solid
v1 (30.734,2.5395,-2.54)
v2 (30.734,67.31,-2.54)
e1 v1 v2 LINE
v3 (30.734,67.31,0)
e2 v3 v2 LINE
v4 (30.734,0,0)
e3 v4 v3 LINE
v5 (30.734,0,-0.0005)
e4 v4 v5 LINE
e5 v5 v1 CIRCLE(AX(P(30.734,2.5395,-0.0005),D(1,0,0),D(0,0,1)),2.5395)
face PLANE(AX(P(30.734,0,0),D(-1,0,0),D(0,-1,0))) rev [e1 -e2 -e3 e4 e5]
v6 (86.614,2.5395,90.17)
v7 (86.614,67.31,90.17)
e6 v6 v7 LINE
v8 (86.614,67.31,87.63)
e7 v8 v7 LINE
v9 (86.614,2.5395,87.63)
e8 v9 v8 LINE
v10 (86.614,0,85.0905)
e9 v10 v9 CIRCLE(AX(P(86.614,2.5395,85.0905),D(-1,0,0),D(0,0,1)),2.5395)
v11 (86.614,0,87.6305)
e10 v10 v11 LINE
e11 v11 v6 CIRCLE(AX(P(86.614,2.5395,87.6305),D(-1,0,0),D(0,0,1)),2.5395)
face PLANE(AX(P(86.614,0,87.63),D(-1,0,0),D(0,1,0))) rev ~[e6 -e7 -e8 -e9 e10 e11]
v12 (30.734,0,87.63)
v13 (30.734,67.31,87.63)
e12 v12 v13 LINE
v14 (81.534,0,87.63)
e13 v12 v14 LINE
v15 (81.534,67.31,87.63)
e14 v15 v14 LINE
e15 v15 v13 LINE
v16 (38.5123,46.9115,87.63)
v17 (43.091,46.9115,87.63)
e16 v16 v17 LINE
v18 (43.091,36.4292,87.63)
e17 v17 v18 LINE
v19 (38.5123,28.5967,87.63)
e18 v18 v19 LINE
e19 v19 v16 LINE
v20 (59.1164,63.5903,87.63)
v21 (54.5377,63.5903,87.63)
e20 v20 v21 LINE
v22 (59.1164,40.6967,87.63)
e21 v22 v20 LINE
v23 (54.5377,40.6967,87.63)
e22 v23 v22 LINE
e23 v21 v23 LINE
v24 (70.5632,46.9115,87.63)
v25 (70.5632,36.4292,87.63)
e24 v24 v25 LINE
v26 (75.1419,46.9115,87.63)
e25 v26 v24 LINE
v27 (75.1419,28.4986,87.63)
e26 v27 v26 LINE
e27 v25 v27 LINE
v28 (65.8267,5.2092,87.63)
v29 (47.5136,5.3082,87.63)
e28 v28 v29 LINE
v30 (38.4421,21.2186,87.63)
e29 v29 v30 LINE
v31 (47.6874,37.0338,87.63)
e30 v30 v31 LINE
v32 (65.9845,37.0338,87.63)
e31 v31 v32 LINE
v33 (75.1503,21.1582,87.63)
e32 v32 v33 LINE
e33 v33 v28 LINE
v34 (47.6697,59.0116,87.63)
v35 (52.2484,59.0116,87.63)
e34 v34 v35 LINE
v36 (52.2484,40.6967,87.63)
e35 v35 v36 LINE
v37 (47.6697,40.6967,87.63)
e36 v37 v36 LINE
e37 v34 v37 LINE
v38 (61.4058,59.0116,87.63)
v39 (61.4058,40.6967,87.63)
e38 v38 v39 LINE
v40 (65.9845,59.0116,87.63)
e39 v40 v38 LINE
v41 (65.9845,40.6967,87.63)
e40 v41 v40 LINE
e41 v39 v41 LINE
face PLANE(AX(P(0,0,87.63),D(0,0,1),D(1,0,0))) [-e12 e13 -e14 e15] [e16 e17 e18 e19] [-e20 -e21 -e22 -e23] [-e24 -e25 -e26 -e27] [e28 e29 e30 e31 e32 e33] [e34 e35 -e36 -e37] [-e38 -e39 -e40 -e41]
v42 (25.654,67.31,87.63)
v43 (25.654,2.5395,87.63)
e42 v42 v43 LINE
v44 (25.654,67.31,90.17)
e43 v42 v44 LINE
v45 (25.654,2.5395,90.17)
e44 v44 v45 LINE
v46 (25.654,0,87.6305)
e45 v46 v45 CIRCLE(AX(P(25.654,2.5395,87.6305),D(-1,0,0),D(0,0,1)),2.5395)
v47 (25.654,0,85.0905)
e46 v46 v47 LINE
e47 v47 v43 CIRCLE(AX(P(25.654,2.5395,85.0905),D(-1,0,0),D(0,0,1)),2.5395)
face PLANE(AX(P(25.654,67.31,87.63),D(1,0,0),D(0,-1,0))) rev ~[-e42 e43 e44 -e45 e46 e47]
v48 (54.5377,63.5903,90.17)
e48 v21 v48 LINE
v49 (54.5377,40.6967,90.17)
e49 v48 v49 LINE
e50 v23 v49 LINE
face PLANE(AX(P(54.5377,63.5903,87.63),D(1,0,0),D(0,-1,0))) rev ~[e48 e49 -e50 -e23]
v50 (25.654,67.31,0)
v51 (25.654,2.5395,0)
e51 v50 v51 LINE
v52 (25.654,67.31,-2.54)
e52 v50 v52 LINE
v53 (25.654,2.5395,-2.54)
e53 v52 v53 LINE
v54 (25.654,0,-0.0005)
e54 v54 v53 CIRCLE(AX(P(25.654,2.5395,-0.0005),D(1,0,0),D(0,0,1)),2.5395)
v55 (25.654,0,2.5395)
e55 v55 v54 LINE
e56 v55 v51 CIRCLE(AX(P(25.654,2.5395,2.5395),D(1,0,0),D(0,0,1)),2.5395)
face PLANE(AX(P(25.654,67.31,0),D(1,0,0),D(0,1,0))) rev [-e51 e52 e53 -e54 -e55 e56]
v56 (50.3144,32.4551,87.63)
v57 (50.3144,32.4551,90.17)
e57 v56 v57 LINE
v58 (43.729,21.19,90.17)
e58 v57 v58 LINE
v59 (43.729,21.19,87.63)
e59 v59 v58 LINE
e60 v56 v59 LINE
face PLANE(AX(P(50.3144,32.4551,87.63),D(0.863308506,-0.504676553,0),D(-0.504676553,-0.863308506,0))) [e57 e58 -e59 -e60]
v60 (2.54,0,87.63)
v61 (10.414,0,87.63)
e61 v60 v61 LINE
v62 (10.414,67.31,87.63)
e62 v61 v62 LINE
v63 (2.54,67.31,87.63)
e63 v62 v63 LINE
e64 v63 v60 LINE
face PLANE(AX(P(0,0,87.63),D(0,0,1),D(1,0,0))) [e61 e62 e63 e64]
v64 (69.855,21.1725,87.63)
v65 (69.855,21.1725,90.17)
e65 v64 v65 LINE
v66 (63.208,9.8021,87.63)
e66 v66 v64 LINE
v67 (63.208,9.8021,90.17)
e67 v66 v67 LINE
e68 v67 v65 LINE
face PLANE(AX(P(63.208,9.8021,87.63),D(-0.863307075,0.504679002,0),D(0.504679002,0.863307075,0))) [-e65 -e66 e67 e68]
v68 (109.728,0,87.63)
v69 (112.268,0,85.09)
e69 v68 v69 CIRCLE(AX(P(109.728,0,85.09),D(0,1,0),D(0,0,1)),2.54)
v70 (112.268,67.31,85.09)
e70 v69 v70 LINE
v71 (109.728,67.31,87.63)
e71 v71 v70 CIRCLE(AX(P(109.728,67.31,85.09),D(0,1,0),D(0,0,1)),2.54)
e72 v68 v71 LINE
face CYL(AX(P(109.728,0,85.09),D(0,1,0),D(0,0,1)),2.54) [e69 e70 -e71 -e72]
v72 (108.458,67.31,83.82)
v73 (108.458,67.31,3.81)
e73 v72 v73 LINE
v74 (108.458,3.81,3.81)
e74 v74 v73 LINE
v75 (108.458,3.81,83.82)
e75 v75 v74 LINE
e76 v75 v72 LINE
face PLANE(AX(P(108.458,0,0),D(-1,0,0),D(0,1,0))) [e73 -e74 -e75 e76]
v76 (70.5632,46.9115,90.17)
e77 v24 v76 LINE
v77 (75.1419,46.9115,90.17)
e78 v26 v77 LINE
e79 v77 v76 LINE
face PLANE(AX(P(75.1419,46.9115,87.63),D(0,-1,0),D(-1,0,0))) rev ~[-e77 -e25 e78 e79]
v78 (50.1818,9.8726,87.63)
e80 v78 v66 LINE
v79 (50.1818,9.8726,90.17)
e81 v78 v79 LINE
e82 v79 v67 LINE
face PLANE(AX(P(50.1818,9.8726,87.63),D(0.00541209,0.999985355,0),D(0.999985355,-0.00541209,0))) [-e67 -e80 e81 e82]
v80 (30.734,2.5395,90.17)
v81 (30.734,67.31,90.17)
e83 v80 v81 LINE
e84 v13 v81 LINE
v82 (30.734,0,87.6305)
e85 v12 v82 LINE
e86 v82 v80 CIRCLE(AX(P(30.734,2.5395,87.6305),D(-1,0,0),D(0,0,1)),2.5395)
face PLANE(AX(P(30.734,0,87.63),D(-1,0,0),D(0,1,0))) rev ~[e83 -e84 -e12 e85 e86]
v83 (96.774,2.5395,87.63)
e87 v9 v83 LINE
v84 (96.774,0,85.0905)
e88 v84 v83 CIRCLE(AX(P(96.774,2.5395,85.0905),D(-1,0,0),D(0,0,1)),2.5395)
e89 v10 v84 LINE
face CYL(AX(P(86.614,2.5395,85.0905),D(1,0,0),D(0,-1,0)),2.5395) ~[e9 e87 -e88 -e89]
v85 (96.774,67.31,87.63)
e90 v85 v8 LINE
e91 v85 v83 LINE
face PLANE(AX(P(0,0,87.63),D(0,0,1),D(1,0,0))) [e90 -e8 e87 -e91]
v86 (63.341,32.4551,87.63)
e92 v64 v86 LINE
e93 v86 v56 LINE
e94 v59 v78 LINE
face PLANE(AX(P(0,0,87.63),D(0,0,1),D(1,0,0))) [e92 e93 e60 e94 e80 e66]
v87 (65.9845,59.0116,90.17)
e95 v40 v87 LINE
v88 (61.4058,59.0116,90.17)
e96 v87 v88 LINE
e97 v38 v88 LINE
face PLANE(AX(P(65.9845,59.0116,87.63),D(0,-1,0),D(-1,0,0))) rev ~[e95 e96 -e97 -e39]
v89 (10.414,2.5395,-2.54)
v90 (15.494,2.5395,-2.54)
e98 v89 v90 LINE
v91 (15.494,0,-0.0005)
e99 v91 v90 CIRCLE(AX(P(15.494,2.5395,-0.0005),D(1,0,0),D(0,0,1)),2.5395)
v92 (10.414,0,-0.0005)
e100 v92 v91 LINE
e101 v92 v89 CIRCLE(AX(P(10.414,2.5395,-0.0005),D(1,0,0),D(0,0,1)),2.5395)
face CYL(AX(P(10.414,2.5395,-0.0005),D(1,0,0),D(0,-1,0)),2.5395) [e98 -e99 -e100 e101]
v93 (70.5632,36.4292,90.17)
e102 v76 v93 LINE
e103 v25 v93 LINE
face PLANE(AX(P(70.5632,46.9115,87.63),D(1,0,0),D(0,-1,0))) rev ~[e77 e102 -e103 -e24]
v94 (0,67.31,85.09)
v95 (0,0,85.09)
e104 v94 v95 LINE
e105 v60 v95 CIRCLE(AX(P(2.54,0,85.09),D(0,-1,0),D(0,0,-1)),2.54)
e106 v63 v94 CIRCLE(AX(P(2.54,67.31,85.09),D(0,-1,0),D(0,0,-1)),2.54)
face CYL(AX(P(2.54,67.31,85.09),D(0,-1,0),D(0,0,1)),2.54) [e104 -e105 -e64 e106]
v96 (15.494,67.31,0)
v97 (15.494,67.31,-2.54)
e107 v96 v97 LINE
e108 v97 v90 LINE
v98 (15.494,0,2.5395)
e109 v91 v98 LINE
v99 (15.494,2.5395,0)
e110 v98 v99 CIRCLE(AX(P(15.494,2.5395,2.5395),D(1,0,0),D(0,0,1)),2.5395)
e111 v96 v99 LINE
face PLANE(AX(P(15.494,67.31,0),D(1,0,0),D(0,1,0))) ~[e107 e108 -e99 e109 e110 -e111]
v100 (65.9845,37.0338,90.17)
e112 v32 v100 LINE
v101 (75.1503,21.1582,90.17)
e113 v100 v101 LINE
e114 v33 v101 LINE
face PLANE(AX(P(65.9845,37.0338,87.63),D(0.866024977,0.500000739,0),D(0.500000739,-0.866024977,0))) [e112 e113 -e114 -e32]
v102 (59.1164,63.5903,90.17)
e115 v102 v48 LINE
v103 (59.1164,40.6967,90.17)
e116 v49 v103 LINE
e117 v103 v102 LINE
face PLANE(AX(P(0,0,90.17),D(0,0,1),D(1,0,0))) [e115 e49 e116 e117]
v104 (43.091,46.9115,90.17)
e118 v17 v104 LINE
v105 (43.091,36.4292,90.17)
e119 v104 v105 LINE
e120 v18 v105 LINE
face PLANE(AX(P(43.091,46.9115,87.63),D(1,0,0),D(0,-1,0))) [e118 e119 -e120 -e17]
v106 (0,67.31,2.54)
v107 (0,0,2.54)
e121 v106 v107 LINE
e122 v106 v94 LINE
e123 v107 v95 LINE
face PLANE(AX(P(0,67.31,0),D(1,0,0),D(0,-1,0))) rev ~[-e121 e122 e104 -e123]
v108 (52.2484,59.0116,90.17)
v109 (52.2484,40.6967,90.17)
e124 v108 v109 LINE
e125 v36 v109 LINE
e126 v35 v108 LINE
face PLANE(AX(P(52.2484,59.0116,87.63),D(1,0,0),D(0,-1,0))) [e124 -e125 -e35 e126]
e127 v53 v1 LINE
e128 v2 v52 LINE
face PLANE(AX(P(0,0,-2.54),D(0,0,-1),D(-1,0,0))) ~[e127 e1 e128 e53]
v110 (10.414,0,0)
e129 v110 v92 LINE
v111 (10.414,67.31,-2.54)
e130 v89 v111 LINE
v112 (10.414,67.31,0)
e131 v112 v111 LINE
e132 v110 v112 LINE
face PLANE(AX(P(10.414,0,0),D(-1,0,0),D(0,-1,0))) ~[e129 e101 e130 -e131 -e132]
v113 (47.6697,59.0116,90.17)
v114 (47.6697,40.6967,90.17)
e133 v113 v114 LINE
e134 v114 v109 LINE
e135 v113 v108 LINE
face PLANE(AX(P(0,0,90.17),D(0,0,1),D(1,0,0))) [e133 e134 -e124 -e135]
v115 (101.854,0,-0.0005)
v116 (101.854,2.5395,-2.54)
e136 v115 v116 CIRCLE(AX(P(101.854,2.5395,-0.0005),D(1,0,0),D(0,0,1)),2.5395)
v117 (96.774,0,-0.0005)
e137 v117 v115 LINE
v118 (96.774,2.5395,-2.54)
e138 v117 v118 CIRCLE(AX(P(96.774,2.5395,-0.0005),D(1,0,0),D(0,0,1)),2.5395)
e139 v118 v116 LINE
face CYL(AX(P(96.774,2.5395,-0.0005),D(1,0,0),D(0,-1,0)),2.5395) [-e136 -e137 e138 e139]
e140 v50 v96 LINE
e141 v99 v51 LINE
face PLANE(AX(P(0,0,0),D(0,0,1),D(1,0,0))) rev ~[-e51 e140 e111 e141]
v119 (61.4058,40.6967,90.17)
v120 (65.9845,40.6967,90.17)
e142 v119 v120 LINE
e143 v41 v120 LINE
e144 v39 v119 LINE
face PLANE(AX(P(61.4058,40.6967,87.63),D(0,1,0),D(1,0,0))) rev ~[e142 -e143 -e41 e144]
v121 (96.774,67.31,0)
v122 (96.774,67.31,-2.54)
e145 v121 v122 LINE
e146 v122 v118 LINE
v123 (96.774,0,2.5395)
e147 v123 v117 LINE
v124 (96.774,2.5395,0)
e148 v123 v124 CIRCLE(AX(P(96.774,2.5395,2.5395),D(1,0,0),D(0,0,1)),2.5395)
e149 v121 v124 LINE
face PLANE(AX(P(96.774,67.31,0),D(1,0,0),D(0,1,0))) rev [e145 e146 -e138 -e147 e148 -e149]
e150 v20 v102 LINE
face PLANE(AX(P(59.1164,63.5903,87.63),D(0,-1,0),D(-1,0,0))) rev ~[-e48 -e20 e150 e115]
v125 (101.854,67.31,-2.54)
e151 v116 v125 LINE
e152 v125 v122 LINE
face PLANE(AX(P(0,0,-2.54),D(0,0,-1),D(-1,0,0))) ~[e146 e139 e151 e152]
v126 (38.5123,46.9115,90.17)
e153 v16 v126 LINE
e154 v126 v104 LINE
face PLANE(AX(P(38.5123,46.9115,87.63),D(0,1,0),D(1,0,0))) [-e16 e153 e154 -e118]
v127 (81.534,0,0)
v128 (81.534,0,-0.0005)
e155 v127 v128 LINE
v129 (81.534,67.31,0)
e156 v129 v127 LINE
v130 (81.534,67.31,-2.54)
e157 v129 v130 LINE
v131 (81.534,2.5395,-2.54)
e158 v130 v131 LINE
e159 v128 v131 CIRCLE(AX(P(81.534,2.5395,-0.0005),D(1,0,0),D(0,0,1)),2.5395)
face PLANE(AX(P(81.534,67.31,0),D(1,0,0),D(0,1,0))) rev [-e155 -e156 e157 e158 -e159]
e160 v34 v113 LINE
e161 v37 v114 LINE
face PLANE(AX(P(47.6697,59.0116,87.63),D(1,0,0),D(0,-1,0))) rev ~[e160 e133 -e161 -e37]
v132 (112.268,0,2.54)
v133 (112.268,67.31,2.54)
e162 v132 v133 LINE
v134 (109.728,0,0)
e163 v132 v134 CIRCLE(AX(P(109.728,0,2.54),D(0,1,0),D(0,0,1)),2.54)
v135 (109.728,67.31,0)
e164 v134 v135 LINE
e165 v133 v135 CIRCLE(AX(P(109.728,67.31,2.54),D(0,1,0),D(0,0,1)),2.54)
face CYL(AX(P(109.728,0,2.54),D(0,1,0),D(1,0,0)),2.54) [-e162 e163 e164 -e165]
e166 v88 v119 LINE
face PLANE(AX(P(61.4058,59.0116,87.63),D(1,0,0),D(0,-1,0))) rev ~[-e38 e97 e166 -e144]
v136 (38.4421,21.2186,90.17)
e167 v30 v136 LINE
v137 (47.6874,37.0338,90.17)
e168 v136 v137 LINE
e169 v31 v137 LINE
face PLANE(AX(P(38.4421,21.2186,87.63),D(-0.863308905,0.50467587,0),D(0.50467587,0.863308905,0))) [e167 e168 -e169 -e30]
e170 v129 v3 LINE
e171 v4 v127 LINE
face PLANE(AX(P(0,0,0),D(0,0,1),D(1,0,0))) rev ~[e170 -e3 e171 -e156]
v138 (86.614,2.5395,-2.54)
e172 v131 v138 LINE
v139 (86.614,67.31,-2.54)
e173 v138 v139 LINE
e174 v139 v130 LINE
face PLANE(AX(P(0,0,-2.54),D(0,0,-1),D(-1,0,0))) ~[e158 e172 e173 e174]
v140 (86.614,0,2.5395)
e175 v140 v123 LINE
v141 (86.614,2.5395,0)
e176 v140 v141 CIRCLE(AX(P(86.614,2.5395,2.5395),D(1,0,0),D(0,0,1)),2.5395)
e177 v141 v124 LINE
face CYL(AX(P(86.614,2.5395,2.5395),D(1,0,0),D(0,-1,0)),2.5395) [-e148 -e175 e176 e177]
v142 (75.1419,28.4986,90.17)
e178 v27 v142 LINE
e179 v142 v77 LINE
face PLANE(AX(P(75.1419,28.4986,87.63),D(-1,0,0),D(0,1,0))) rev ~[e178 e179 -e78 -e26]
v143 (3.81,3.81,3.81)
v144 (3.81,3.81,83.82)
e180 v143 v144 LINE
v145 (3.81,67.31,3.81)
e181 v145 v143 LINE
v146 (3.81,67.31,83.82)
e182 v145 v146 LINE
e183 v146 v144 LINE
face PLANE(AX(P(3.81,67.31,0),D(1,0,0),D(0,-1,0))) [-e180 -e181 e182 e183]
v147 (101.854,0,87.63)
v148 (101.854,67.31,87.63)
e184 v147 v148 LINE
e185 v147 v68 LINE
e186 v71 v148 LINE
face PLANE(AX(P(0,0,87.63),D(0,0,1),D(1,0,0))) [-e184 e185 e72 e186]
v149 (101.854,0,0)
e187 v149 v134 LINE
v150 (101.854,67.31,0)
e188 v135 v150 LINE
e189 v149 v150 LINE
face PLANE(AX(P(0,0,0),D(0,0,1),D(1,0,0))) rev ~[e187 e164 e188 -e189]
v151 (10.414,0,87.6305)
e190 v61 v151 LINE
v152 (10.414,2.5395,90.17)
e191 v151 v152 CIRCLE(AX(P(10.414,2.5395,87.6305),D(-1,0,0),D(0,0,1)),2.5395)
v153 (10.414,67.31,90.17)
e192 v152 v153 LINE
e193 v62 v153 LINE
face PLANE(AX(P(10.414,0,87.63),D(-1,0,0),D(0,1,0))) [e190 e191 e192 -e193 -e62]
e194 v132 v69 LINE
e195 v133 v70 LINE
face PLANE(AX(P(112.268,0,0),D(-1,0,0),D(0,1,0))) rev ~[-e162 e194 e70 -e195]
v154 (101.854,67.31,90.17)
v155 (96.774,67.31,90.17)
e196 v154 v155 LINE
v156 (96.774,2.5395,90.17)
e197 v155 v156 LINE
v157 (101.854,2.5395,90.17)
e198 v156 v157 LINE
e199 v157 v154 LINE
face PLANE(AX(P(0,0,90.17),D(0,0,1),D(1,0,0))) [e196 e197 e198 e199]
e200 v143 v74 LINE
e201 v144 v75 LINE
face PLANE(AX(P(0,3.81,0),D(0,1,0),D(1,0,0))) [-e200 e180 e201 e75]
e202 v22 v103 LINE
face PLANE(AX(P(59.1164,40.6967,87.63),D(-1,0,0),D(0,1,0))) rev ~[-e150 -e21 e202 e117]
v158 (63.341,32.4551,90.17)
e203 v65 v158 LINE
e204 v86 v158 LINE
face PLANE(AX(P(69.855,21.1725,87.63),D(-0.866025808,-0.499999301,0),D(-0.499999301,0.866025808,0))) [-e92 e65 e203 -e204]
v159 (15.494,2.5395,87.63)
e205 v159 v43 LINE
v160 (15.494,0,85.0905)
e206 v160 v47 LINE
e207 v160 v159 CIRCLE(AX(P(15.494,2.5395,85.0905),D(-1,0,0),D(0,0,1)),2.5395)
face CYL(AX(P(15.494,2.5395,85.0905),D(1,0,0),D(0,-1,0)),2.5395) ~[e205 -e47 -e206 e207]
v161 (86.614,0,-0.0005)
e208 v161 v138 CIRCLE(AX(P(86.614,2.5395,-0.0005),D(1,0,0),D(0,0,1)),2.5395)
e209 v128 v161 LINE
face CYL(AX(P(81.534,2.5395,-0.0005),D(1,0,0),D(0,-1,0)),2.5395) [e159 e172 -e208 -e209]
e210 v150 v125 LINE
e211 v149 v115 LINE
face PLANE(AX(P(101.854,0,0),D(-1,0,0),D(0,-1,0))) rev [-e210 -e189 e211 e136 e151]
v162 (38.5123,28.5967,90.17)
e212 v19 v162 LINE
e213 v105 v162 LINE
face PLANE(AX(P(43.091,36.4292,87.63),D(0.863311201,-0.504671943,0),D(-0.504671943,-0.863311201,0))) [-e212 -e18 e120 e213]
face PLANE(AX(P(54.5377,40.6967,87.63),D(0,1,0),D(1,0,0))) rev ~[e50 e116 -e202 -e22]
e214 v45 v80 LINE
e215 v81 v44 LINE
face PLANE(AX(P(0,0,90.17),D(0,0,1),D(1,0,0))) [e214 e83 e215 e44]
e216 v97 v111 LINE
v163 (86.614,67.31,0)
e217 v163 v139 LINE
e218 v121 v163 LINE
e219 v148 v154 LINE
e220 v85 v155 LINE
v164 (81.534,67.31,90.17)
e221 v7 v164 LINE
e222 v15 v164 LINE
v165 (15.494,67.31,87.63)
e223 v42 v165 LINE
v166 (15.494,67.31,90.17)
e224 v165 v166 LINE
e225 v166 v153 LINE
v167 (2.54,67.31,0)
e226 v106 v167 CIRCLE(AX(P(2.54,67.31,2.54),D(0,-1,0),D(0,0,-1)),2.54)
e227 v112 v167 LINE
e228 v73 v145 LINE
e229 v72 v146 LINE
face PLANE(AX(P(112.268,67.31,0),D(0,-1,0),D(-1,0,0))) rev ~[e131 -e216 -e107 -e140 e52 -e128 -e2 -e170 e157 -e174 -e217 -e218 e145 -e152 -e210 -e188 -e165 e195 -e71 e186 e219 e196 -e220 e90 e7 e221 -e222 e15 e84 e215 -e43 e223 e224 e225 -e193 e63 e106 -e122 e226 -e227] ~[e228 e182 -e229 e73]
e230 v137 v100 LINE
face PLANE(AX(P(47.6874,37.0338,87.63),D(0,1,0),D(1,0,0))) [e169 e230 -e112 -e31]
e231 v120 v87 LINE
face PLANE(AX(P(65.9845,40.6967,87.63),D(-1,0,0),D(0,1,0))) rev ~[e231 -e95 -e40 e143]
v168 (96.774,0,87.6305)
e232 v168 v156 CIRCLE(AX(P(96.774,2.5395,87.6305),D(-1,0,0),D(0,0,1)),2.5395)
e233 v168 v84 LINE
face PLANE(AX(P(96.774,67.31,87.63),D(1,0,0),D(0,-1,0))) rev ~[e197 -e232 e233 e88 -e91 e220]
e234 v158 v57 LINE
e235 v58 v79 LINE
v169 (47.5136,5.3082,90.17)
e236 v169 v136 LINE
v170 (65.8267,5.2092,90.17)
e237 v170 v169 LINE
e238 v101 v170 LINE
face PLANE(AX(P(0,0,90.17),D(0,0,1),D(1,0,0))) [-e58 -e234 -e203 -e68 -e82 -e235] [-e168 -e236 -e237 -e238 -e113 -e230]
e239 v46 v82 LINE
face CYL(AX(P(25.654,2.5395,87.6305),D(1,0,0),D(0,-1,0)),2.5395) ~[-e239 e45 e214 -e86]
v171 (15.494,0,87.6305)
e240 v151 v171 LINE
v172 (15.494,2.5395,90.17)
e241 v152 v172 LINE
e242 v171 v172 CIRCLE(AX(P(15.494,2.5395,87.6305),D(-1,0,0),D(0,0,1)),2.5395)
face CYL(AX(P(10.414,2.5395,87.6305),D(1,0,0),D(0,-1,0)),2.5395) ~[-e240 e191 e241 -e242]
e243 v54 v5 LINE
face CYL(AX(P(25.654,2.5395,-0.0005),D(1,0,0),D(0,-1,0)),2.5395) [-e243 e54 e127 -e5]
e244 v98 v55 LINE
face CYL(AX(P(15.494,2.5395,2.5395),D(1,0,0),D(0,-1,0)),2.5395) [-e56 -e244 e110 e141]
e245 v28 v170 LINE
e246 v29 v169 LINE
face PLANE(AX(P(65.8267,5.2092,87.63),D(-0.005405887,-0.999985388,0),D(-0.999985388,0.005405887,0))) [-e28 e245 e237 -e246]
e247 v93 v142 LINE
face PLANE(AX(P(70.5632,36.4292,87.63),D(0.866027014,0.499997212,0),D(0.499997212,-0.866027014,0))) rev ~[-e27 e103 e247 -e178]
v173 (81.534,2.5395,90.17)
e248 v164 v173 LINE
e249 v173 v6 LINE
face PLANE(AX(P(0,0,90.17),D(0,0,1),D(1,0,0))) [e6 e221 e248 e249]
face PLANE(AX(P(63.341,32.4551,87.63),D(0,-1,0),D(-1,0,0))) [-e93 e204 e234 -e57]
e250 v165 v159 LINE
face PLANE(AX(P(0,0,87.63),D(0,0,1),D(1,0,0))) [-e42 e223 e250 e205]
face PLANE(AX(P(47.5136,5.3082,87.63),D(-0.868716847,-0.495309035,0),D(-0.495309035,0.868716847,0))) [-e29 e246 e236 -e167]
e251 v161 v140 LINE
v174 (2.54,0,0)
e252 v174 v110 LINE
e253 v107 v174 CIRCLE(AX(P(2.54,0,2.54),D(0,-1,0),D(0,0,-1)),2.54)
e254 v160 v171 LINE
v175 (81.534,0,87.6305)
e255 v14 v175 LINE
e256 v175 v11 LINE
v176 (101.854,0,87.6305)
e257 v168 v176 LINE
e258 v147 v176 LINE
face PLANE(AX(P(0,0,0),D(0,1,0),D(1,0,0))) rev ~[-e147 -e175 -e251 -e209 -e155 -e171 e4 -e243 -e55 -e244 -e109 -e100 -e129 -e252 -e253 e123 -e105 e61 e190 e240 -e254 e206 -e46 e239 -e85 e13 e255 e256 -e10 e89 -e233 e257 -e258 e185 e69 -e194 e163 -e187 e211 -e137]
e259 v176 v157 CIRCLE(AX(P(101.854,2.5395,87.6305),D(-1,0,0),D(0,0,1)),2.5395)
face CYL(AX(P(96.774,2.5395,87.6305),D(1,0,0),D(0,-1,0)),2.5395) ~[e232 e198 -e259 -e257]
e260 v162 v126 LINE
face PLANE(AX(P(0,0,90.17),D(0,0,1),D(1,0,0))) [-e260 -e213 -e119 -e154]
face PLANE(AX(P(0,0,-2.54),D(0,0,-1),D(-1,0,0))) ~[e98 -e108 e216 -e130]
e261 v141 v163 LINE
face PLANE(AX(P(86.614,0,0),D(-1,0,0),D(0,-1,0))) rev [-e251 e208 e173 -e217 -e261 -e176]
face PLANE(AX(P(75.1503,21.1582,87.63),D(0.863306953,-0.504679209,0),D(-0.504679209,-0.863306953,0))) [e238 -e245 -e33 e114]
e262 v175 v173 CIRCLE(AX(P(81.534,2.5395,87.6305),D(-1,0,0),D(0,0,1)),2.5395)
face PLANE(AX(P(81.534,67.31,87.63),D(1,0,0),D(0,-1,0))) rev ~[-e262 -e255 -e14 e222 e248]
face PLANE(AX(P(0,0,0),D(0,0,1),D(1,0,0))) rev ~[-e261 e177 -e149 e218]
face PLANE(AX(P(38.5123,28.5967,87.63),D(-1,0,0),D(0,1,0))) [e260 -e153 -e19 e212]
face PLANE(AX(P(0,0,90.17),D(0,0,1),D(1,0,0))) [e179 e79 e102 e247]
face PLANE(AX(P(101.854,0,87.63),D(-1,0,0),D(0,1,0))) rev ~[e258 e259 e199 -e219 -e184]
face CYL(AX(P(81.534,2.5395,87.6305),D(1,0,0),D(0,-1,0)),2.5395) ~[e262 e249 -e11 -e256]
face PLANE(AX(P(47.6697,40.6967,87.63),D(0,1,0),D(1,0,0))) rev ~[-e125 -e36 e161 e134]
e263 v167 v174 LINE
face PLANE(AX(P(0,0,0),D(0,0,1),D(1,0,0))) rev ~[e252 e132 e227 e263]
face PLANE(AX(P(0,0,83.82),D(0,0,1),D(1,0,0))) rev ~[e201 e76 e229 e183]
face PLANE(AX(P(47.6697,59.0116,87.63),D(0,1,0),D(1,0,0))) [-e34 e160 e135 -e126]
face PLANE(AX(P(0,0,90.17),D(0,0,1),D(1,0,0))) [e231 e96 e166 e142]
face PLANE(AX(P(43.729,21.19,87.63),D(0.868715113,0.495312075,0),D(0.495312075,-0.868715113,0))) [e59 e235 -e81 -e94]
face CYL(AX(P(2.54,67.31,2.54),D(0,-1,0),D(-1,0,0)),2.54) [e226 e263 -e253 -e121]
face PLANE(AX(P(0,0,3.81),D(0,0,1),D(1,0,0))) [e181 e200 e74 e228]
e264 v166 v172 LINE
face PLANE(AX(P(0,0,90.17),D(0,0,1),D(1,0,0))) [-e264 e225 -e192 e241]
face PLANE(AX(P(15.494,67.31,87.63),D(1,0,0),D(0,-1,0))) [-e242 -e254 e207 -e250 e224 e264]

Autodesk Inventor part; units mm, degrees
ref_plane "YZ Plane" through (0, 0, 0) normal (1, 0, 0) x (0, 1, 0)
ref_plane "XZ Plane" through (0, 0, 0) normal (0, 1, 0) x (-1, 0, 0)
sketch "Sketch1" plane through (0, 0, 0) normal (0, 0, 1) x (1, 0, 0)
  line L0 (0, 0) -> (112.268, 0)
  line L1 (112.268, 0) -> (112.268, 67.31)
  line L2 (112.268, 67.31) -> (0, 67.31)
  line L3 (0, 67.31) -> (0, 0)
  dimension "d0" = 112.268
  dimension "d1" = 67.31
extrude "Extrusion1" add sketch "Sketch1" along normal blind 87.63
shell "Shell1" thickness 3.81 removed faces 1 at (74.8453, 67.31, 29.21)
sketch "Sketch2" plane through (0, 0, 87.63) normal (0, 0, 1) x (1, 0, 0)
  line L0 (112.268, 67.31) -> (0, 67.31) projected
  line L1 (0, 0) -> (112.268, 0) projected
  line L2 (10.414, 67.31) -> (15.494, 67.31)
  line L3 (15.494, 67.31) -> (15.494, 0)
  line L4 (15.494, 0) -> (10.414, 0)
  line L5 (10.414, 0) -> (10.414, 67.31)
  line L6 (25.654, 0) -> (30.734, 0)
  line L7 (30.734, 0) -> (30.734, 67.31)
  line L8 (30.734, 67.31) -> (25.654, 67.31)
  line L9 (25.654, 67.31) -> (25.654, 0)
  line L10 (86.614, 67.31) -> (81.534, 67.31)
  line L11 (81.534, 67.31) -> (81.534, 0)
  line L12 (81.534, 0) -> (86.614, 0)
  line L13 (86.614, 0) -> (86.614, 67.31)
  line L14 (96.774, 0) -> (101.854, 0)
  line L15 (101.854, 0) -> (101.854, 67.31)
  line L16 (101.854, 67.31) -> (96.774, 67.31)
  line L17 (96.774, 67.31) -> (96.774, 0)
  point P0 (56.134, 0)
  dimension "d5" = 5.08
  dimension "d6" = 5.08
  dimension "d7" = 5.08
  dimension "d8" = 5.08
  dimension "d9" = 10.16
  dimension "d10" = 10.16
  dimension "d11" = 50.8
  dimension "d12" = 25.4
extrude "Extrusion2" add sketch "Sketch2" along normal blind 2.54 contours L15 L1 L17 L0 | L13 L1 L11 L0 | L7 L1 L9 L0 | L3 L1 L5 L0
ref_plane "Work Plane1" through (0, 0, 43.815) normal (0, 0, 1) x (1, 0, 0)
mirror "Mirror1" about plane through (0, 0, 43.815) normal (0, 0, 1) of "Extrusion2"
fillet "Fillet1" radius 2.54 12 edges at (12.954, 0, 90.17) (28.194, 0, 90.17) (20.574, 0, 87.63) (84.074, 0, 90.17) (91.694, 0, 87.63) (99.314, 0, 90.17) (12.954, 0, -2.54) (20.574, 0, 0) (28.194, 0, -2.54) (91.694, 0, 0) (99.314, 0, -2.54) (84.074, 0, -2.54)
sketch "Sketch3" plane through (0, 0, 87.63) normal (0, 0, 1) x (1, 0, 0)
  line L0 (65.8267, 5.2092) -> (47.5136, 5.3082)
  line L1 (47.5136, 5.3082) -> (38.4421, 21.2186)
  line L2 (38.4421, 21.2186) -> (47.6874, 37.0338)
  line L3 (47.6874, 37.0338) -> (65.9845, 37.0338)
  line L4 (65.9845, 37.0338) -> (75.1503, 21.1582)
  line L5 (75.1503, 21.1582) -> (65.8267, 5.2092)
  line L6 (50.3144, 32.4551) -> (43.729, 21.19)
  line L7 (43.729, 21.19) -> (50.1818, 9.8726)
  line L8 (50.1818, 9.8726) -> (63.208, 9.8021)
  line L9 (63.208, 9.8021) -> (69.855, 21.1725)
  line L10 (69.855, 21.1725) -> (63.341, 32.4551)
  line L11 (63.341, 32.4551) -> (50.3144, 32.4551)
  line L12 (38.5123, 28.5967) -> (38.5123, 46.9115)
  line L13 (38.5123, 46.9115) -> (43.091, 46.9115)
  line L14 (43.091, 46.9115) -> (43.091, 36.4292)
  line L15 (43.091, 36.4292) -> (38.5123, 28.5967)
  line L16 (47.6697, 59.0116) -> (52.2484, 59.0116)
  line L17 (52.2484, 59.0116) -> (52.2484, 40.6967)
  line L18 (65.9845, 40.6967) -> (65.9845, 59.0116)
  line L19 (65.9845, 59.0116) -> (61.4058, 59.0116)
  line L20 (61.4058, 59.0116) -> (61.4058, 40.6967)
  line L21 (75.1419, 28.4986) -> (75.1419, 46.9115)
  line L22 (75.1419, 46.9115) -> (70.5632, 46.9115)
  line L23 (70.5632, 46.9115) -> (70.5632, 36.4292)
  line L24 (70.5632, 36.4292) -> (75.1419, 28.4986)
  line L25 (54.5377, 63.5903) -> (54.5377, 40.6967)
  line L26 (54.5377, 40.6967) -> (59.1164, 40.6967)
  line L27 (59.1164, 40.6967) -> (59.1164, 63.5903)
  line L28 (59.1164, 63.5903) -> (54.5377, 63.5903)
  line L29 (61.4058, 40.6967) -> (65.9845, 40.6967)
  line L30 (52.2484, 59.0116) -> (54.5377, 59.0116) construction
  line L31 (61.4058, 59.0116) -> (59.1164, 59.0116) construction
  line L32 (47.6697, 59.0116) -> (47.6697, 40.6967)
  line L33 (47.6697, 40.6967) -> (52.2484, 40.6967)
  line L34 (81.534, 67.31) -> (81.534, 2.54) projected
  point P0 (0, 0)
  point P1 (56.3847, 20.5734)
  point P2 (56.6949, 9.8373)
  dimension "d16" = 18.3134
  dimension "d17" = 4.5787
  dimension "d18" = 3.663
  dimension "d19" = 3.663
  dimension "d20" = 4.5787
  dimension "d21" = 4.5787
  dimension "d22" = 4.5787
  dimension "d23" = 4.5787
  dimension "d24" = 3.663
  dimension "d25" = 18.3148
  dimension "d26" = 18.3148
  dimension "d27" = 22.8935
  dimension "d28" = 4.5787
  dimension "d29" = 4.5787
  dimension "d30" = 4.5787
  dimension "d31" = 2.2894
  dimension "d32" = -4.5964
  dimension "d33" = 24.8391
extrude "Extrusion3" add sketch "Sketch3" along normal blind 2.54
fillet "Fillet2" radius 2.54 4 edges at (0, 33.655, 87.63) (112.268, 33.655, 87.63) (112.268, 33.655, 0) (0, 33.655, 0)
equation "\"d5\" = d6"
equation "\"d7\" = d6"
equation "\"d8\" = d7"
equation "\"d10\" = d9"
properties part number "Janus wire holder"
